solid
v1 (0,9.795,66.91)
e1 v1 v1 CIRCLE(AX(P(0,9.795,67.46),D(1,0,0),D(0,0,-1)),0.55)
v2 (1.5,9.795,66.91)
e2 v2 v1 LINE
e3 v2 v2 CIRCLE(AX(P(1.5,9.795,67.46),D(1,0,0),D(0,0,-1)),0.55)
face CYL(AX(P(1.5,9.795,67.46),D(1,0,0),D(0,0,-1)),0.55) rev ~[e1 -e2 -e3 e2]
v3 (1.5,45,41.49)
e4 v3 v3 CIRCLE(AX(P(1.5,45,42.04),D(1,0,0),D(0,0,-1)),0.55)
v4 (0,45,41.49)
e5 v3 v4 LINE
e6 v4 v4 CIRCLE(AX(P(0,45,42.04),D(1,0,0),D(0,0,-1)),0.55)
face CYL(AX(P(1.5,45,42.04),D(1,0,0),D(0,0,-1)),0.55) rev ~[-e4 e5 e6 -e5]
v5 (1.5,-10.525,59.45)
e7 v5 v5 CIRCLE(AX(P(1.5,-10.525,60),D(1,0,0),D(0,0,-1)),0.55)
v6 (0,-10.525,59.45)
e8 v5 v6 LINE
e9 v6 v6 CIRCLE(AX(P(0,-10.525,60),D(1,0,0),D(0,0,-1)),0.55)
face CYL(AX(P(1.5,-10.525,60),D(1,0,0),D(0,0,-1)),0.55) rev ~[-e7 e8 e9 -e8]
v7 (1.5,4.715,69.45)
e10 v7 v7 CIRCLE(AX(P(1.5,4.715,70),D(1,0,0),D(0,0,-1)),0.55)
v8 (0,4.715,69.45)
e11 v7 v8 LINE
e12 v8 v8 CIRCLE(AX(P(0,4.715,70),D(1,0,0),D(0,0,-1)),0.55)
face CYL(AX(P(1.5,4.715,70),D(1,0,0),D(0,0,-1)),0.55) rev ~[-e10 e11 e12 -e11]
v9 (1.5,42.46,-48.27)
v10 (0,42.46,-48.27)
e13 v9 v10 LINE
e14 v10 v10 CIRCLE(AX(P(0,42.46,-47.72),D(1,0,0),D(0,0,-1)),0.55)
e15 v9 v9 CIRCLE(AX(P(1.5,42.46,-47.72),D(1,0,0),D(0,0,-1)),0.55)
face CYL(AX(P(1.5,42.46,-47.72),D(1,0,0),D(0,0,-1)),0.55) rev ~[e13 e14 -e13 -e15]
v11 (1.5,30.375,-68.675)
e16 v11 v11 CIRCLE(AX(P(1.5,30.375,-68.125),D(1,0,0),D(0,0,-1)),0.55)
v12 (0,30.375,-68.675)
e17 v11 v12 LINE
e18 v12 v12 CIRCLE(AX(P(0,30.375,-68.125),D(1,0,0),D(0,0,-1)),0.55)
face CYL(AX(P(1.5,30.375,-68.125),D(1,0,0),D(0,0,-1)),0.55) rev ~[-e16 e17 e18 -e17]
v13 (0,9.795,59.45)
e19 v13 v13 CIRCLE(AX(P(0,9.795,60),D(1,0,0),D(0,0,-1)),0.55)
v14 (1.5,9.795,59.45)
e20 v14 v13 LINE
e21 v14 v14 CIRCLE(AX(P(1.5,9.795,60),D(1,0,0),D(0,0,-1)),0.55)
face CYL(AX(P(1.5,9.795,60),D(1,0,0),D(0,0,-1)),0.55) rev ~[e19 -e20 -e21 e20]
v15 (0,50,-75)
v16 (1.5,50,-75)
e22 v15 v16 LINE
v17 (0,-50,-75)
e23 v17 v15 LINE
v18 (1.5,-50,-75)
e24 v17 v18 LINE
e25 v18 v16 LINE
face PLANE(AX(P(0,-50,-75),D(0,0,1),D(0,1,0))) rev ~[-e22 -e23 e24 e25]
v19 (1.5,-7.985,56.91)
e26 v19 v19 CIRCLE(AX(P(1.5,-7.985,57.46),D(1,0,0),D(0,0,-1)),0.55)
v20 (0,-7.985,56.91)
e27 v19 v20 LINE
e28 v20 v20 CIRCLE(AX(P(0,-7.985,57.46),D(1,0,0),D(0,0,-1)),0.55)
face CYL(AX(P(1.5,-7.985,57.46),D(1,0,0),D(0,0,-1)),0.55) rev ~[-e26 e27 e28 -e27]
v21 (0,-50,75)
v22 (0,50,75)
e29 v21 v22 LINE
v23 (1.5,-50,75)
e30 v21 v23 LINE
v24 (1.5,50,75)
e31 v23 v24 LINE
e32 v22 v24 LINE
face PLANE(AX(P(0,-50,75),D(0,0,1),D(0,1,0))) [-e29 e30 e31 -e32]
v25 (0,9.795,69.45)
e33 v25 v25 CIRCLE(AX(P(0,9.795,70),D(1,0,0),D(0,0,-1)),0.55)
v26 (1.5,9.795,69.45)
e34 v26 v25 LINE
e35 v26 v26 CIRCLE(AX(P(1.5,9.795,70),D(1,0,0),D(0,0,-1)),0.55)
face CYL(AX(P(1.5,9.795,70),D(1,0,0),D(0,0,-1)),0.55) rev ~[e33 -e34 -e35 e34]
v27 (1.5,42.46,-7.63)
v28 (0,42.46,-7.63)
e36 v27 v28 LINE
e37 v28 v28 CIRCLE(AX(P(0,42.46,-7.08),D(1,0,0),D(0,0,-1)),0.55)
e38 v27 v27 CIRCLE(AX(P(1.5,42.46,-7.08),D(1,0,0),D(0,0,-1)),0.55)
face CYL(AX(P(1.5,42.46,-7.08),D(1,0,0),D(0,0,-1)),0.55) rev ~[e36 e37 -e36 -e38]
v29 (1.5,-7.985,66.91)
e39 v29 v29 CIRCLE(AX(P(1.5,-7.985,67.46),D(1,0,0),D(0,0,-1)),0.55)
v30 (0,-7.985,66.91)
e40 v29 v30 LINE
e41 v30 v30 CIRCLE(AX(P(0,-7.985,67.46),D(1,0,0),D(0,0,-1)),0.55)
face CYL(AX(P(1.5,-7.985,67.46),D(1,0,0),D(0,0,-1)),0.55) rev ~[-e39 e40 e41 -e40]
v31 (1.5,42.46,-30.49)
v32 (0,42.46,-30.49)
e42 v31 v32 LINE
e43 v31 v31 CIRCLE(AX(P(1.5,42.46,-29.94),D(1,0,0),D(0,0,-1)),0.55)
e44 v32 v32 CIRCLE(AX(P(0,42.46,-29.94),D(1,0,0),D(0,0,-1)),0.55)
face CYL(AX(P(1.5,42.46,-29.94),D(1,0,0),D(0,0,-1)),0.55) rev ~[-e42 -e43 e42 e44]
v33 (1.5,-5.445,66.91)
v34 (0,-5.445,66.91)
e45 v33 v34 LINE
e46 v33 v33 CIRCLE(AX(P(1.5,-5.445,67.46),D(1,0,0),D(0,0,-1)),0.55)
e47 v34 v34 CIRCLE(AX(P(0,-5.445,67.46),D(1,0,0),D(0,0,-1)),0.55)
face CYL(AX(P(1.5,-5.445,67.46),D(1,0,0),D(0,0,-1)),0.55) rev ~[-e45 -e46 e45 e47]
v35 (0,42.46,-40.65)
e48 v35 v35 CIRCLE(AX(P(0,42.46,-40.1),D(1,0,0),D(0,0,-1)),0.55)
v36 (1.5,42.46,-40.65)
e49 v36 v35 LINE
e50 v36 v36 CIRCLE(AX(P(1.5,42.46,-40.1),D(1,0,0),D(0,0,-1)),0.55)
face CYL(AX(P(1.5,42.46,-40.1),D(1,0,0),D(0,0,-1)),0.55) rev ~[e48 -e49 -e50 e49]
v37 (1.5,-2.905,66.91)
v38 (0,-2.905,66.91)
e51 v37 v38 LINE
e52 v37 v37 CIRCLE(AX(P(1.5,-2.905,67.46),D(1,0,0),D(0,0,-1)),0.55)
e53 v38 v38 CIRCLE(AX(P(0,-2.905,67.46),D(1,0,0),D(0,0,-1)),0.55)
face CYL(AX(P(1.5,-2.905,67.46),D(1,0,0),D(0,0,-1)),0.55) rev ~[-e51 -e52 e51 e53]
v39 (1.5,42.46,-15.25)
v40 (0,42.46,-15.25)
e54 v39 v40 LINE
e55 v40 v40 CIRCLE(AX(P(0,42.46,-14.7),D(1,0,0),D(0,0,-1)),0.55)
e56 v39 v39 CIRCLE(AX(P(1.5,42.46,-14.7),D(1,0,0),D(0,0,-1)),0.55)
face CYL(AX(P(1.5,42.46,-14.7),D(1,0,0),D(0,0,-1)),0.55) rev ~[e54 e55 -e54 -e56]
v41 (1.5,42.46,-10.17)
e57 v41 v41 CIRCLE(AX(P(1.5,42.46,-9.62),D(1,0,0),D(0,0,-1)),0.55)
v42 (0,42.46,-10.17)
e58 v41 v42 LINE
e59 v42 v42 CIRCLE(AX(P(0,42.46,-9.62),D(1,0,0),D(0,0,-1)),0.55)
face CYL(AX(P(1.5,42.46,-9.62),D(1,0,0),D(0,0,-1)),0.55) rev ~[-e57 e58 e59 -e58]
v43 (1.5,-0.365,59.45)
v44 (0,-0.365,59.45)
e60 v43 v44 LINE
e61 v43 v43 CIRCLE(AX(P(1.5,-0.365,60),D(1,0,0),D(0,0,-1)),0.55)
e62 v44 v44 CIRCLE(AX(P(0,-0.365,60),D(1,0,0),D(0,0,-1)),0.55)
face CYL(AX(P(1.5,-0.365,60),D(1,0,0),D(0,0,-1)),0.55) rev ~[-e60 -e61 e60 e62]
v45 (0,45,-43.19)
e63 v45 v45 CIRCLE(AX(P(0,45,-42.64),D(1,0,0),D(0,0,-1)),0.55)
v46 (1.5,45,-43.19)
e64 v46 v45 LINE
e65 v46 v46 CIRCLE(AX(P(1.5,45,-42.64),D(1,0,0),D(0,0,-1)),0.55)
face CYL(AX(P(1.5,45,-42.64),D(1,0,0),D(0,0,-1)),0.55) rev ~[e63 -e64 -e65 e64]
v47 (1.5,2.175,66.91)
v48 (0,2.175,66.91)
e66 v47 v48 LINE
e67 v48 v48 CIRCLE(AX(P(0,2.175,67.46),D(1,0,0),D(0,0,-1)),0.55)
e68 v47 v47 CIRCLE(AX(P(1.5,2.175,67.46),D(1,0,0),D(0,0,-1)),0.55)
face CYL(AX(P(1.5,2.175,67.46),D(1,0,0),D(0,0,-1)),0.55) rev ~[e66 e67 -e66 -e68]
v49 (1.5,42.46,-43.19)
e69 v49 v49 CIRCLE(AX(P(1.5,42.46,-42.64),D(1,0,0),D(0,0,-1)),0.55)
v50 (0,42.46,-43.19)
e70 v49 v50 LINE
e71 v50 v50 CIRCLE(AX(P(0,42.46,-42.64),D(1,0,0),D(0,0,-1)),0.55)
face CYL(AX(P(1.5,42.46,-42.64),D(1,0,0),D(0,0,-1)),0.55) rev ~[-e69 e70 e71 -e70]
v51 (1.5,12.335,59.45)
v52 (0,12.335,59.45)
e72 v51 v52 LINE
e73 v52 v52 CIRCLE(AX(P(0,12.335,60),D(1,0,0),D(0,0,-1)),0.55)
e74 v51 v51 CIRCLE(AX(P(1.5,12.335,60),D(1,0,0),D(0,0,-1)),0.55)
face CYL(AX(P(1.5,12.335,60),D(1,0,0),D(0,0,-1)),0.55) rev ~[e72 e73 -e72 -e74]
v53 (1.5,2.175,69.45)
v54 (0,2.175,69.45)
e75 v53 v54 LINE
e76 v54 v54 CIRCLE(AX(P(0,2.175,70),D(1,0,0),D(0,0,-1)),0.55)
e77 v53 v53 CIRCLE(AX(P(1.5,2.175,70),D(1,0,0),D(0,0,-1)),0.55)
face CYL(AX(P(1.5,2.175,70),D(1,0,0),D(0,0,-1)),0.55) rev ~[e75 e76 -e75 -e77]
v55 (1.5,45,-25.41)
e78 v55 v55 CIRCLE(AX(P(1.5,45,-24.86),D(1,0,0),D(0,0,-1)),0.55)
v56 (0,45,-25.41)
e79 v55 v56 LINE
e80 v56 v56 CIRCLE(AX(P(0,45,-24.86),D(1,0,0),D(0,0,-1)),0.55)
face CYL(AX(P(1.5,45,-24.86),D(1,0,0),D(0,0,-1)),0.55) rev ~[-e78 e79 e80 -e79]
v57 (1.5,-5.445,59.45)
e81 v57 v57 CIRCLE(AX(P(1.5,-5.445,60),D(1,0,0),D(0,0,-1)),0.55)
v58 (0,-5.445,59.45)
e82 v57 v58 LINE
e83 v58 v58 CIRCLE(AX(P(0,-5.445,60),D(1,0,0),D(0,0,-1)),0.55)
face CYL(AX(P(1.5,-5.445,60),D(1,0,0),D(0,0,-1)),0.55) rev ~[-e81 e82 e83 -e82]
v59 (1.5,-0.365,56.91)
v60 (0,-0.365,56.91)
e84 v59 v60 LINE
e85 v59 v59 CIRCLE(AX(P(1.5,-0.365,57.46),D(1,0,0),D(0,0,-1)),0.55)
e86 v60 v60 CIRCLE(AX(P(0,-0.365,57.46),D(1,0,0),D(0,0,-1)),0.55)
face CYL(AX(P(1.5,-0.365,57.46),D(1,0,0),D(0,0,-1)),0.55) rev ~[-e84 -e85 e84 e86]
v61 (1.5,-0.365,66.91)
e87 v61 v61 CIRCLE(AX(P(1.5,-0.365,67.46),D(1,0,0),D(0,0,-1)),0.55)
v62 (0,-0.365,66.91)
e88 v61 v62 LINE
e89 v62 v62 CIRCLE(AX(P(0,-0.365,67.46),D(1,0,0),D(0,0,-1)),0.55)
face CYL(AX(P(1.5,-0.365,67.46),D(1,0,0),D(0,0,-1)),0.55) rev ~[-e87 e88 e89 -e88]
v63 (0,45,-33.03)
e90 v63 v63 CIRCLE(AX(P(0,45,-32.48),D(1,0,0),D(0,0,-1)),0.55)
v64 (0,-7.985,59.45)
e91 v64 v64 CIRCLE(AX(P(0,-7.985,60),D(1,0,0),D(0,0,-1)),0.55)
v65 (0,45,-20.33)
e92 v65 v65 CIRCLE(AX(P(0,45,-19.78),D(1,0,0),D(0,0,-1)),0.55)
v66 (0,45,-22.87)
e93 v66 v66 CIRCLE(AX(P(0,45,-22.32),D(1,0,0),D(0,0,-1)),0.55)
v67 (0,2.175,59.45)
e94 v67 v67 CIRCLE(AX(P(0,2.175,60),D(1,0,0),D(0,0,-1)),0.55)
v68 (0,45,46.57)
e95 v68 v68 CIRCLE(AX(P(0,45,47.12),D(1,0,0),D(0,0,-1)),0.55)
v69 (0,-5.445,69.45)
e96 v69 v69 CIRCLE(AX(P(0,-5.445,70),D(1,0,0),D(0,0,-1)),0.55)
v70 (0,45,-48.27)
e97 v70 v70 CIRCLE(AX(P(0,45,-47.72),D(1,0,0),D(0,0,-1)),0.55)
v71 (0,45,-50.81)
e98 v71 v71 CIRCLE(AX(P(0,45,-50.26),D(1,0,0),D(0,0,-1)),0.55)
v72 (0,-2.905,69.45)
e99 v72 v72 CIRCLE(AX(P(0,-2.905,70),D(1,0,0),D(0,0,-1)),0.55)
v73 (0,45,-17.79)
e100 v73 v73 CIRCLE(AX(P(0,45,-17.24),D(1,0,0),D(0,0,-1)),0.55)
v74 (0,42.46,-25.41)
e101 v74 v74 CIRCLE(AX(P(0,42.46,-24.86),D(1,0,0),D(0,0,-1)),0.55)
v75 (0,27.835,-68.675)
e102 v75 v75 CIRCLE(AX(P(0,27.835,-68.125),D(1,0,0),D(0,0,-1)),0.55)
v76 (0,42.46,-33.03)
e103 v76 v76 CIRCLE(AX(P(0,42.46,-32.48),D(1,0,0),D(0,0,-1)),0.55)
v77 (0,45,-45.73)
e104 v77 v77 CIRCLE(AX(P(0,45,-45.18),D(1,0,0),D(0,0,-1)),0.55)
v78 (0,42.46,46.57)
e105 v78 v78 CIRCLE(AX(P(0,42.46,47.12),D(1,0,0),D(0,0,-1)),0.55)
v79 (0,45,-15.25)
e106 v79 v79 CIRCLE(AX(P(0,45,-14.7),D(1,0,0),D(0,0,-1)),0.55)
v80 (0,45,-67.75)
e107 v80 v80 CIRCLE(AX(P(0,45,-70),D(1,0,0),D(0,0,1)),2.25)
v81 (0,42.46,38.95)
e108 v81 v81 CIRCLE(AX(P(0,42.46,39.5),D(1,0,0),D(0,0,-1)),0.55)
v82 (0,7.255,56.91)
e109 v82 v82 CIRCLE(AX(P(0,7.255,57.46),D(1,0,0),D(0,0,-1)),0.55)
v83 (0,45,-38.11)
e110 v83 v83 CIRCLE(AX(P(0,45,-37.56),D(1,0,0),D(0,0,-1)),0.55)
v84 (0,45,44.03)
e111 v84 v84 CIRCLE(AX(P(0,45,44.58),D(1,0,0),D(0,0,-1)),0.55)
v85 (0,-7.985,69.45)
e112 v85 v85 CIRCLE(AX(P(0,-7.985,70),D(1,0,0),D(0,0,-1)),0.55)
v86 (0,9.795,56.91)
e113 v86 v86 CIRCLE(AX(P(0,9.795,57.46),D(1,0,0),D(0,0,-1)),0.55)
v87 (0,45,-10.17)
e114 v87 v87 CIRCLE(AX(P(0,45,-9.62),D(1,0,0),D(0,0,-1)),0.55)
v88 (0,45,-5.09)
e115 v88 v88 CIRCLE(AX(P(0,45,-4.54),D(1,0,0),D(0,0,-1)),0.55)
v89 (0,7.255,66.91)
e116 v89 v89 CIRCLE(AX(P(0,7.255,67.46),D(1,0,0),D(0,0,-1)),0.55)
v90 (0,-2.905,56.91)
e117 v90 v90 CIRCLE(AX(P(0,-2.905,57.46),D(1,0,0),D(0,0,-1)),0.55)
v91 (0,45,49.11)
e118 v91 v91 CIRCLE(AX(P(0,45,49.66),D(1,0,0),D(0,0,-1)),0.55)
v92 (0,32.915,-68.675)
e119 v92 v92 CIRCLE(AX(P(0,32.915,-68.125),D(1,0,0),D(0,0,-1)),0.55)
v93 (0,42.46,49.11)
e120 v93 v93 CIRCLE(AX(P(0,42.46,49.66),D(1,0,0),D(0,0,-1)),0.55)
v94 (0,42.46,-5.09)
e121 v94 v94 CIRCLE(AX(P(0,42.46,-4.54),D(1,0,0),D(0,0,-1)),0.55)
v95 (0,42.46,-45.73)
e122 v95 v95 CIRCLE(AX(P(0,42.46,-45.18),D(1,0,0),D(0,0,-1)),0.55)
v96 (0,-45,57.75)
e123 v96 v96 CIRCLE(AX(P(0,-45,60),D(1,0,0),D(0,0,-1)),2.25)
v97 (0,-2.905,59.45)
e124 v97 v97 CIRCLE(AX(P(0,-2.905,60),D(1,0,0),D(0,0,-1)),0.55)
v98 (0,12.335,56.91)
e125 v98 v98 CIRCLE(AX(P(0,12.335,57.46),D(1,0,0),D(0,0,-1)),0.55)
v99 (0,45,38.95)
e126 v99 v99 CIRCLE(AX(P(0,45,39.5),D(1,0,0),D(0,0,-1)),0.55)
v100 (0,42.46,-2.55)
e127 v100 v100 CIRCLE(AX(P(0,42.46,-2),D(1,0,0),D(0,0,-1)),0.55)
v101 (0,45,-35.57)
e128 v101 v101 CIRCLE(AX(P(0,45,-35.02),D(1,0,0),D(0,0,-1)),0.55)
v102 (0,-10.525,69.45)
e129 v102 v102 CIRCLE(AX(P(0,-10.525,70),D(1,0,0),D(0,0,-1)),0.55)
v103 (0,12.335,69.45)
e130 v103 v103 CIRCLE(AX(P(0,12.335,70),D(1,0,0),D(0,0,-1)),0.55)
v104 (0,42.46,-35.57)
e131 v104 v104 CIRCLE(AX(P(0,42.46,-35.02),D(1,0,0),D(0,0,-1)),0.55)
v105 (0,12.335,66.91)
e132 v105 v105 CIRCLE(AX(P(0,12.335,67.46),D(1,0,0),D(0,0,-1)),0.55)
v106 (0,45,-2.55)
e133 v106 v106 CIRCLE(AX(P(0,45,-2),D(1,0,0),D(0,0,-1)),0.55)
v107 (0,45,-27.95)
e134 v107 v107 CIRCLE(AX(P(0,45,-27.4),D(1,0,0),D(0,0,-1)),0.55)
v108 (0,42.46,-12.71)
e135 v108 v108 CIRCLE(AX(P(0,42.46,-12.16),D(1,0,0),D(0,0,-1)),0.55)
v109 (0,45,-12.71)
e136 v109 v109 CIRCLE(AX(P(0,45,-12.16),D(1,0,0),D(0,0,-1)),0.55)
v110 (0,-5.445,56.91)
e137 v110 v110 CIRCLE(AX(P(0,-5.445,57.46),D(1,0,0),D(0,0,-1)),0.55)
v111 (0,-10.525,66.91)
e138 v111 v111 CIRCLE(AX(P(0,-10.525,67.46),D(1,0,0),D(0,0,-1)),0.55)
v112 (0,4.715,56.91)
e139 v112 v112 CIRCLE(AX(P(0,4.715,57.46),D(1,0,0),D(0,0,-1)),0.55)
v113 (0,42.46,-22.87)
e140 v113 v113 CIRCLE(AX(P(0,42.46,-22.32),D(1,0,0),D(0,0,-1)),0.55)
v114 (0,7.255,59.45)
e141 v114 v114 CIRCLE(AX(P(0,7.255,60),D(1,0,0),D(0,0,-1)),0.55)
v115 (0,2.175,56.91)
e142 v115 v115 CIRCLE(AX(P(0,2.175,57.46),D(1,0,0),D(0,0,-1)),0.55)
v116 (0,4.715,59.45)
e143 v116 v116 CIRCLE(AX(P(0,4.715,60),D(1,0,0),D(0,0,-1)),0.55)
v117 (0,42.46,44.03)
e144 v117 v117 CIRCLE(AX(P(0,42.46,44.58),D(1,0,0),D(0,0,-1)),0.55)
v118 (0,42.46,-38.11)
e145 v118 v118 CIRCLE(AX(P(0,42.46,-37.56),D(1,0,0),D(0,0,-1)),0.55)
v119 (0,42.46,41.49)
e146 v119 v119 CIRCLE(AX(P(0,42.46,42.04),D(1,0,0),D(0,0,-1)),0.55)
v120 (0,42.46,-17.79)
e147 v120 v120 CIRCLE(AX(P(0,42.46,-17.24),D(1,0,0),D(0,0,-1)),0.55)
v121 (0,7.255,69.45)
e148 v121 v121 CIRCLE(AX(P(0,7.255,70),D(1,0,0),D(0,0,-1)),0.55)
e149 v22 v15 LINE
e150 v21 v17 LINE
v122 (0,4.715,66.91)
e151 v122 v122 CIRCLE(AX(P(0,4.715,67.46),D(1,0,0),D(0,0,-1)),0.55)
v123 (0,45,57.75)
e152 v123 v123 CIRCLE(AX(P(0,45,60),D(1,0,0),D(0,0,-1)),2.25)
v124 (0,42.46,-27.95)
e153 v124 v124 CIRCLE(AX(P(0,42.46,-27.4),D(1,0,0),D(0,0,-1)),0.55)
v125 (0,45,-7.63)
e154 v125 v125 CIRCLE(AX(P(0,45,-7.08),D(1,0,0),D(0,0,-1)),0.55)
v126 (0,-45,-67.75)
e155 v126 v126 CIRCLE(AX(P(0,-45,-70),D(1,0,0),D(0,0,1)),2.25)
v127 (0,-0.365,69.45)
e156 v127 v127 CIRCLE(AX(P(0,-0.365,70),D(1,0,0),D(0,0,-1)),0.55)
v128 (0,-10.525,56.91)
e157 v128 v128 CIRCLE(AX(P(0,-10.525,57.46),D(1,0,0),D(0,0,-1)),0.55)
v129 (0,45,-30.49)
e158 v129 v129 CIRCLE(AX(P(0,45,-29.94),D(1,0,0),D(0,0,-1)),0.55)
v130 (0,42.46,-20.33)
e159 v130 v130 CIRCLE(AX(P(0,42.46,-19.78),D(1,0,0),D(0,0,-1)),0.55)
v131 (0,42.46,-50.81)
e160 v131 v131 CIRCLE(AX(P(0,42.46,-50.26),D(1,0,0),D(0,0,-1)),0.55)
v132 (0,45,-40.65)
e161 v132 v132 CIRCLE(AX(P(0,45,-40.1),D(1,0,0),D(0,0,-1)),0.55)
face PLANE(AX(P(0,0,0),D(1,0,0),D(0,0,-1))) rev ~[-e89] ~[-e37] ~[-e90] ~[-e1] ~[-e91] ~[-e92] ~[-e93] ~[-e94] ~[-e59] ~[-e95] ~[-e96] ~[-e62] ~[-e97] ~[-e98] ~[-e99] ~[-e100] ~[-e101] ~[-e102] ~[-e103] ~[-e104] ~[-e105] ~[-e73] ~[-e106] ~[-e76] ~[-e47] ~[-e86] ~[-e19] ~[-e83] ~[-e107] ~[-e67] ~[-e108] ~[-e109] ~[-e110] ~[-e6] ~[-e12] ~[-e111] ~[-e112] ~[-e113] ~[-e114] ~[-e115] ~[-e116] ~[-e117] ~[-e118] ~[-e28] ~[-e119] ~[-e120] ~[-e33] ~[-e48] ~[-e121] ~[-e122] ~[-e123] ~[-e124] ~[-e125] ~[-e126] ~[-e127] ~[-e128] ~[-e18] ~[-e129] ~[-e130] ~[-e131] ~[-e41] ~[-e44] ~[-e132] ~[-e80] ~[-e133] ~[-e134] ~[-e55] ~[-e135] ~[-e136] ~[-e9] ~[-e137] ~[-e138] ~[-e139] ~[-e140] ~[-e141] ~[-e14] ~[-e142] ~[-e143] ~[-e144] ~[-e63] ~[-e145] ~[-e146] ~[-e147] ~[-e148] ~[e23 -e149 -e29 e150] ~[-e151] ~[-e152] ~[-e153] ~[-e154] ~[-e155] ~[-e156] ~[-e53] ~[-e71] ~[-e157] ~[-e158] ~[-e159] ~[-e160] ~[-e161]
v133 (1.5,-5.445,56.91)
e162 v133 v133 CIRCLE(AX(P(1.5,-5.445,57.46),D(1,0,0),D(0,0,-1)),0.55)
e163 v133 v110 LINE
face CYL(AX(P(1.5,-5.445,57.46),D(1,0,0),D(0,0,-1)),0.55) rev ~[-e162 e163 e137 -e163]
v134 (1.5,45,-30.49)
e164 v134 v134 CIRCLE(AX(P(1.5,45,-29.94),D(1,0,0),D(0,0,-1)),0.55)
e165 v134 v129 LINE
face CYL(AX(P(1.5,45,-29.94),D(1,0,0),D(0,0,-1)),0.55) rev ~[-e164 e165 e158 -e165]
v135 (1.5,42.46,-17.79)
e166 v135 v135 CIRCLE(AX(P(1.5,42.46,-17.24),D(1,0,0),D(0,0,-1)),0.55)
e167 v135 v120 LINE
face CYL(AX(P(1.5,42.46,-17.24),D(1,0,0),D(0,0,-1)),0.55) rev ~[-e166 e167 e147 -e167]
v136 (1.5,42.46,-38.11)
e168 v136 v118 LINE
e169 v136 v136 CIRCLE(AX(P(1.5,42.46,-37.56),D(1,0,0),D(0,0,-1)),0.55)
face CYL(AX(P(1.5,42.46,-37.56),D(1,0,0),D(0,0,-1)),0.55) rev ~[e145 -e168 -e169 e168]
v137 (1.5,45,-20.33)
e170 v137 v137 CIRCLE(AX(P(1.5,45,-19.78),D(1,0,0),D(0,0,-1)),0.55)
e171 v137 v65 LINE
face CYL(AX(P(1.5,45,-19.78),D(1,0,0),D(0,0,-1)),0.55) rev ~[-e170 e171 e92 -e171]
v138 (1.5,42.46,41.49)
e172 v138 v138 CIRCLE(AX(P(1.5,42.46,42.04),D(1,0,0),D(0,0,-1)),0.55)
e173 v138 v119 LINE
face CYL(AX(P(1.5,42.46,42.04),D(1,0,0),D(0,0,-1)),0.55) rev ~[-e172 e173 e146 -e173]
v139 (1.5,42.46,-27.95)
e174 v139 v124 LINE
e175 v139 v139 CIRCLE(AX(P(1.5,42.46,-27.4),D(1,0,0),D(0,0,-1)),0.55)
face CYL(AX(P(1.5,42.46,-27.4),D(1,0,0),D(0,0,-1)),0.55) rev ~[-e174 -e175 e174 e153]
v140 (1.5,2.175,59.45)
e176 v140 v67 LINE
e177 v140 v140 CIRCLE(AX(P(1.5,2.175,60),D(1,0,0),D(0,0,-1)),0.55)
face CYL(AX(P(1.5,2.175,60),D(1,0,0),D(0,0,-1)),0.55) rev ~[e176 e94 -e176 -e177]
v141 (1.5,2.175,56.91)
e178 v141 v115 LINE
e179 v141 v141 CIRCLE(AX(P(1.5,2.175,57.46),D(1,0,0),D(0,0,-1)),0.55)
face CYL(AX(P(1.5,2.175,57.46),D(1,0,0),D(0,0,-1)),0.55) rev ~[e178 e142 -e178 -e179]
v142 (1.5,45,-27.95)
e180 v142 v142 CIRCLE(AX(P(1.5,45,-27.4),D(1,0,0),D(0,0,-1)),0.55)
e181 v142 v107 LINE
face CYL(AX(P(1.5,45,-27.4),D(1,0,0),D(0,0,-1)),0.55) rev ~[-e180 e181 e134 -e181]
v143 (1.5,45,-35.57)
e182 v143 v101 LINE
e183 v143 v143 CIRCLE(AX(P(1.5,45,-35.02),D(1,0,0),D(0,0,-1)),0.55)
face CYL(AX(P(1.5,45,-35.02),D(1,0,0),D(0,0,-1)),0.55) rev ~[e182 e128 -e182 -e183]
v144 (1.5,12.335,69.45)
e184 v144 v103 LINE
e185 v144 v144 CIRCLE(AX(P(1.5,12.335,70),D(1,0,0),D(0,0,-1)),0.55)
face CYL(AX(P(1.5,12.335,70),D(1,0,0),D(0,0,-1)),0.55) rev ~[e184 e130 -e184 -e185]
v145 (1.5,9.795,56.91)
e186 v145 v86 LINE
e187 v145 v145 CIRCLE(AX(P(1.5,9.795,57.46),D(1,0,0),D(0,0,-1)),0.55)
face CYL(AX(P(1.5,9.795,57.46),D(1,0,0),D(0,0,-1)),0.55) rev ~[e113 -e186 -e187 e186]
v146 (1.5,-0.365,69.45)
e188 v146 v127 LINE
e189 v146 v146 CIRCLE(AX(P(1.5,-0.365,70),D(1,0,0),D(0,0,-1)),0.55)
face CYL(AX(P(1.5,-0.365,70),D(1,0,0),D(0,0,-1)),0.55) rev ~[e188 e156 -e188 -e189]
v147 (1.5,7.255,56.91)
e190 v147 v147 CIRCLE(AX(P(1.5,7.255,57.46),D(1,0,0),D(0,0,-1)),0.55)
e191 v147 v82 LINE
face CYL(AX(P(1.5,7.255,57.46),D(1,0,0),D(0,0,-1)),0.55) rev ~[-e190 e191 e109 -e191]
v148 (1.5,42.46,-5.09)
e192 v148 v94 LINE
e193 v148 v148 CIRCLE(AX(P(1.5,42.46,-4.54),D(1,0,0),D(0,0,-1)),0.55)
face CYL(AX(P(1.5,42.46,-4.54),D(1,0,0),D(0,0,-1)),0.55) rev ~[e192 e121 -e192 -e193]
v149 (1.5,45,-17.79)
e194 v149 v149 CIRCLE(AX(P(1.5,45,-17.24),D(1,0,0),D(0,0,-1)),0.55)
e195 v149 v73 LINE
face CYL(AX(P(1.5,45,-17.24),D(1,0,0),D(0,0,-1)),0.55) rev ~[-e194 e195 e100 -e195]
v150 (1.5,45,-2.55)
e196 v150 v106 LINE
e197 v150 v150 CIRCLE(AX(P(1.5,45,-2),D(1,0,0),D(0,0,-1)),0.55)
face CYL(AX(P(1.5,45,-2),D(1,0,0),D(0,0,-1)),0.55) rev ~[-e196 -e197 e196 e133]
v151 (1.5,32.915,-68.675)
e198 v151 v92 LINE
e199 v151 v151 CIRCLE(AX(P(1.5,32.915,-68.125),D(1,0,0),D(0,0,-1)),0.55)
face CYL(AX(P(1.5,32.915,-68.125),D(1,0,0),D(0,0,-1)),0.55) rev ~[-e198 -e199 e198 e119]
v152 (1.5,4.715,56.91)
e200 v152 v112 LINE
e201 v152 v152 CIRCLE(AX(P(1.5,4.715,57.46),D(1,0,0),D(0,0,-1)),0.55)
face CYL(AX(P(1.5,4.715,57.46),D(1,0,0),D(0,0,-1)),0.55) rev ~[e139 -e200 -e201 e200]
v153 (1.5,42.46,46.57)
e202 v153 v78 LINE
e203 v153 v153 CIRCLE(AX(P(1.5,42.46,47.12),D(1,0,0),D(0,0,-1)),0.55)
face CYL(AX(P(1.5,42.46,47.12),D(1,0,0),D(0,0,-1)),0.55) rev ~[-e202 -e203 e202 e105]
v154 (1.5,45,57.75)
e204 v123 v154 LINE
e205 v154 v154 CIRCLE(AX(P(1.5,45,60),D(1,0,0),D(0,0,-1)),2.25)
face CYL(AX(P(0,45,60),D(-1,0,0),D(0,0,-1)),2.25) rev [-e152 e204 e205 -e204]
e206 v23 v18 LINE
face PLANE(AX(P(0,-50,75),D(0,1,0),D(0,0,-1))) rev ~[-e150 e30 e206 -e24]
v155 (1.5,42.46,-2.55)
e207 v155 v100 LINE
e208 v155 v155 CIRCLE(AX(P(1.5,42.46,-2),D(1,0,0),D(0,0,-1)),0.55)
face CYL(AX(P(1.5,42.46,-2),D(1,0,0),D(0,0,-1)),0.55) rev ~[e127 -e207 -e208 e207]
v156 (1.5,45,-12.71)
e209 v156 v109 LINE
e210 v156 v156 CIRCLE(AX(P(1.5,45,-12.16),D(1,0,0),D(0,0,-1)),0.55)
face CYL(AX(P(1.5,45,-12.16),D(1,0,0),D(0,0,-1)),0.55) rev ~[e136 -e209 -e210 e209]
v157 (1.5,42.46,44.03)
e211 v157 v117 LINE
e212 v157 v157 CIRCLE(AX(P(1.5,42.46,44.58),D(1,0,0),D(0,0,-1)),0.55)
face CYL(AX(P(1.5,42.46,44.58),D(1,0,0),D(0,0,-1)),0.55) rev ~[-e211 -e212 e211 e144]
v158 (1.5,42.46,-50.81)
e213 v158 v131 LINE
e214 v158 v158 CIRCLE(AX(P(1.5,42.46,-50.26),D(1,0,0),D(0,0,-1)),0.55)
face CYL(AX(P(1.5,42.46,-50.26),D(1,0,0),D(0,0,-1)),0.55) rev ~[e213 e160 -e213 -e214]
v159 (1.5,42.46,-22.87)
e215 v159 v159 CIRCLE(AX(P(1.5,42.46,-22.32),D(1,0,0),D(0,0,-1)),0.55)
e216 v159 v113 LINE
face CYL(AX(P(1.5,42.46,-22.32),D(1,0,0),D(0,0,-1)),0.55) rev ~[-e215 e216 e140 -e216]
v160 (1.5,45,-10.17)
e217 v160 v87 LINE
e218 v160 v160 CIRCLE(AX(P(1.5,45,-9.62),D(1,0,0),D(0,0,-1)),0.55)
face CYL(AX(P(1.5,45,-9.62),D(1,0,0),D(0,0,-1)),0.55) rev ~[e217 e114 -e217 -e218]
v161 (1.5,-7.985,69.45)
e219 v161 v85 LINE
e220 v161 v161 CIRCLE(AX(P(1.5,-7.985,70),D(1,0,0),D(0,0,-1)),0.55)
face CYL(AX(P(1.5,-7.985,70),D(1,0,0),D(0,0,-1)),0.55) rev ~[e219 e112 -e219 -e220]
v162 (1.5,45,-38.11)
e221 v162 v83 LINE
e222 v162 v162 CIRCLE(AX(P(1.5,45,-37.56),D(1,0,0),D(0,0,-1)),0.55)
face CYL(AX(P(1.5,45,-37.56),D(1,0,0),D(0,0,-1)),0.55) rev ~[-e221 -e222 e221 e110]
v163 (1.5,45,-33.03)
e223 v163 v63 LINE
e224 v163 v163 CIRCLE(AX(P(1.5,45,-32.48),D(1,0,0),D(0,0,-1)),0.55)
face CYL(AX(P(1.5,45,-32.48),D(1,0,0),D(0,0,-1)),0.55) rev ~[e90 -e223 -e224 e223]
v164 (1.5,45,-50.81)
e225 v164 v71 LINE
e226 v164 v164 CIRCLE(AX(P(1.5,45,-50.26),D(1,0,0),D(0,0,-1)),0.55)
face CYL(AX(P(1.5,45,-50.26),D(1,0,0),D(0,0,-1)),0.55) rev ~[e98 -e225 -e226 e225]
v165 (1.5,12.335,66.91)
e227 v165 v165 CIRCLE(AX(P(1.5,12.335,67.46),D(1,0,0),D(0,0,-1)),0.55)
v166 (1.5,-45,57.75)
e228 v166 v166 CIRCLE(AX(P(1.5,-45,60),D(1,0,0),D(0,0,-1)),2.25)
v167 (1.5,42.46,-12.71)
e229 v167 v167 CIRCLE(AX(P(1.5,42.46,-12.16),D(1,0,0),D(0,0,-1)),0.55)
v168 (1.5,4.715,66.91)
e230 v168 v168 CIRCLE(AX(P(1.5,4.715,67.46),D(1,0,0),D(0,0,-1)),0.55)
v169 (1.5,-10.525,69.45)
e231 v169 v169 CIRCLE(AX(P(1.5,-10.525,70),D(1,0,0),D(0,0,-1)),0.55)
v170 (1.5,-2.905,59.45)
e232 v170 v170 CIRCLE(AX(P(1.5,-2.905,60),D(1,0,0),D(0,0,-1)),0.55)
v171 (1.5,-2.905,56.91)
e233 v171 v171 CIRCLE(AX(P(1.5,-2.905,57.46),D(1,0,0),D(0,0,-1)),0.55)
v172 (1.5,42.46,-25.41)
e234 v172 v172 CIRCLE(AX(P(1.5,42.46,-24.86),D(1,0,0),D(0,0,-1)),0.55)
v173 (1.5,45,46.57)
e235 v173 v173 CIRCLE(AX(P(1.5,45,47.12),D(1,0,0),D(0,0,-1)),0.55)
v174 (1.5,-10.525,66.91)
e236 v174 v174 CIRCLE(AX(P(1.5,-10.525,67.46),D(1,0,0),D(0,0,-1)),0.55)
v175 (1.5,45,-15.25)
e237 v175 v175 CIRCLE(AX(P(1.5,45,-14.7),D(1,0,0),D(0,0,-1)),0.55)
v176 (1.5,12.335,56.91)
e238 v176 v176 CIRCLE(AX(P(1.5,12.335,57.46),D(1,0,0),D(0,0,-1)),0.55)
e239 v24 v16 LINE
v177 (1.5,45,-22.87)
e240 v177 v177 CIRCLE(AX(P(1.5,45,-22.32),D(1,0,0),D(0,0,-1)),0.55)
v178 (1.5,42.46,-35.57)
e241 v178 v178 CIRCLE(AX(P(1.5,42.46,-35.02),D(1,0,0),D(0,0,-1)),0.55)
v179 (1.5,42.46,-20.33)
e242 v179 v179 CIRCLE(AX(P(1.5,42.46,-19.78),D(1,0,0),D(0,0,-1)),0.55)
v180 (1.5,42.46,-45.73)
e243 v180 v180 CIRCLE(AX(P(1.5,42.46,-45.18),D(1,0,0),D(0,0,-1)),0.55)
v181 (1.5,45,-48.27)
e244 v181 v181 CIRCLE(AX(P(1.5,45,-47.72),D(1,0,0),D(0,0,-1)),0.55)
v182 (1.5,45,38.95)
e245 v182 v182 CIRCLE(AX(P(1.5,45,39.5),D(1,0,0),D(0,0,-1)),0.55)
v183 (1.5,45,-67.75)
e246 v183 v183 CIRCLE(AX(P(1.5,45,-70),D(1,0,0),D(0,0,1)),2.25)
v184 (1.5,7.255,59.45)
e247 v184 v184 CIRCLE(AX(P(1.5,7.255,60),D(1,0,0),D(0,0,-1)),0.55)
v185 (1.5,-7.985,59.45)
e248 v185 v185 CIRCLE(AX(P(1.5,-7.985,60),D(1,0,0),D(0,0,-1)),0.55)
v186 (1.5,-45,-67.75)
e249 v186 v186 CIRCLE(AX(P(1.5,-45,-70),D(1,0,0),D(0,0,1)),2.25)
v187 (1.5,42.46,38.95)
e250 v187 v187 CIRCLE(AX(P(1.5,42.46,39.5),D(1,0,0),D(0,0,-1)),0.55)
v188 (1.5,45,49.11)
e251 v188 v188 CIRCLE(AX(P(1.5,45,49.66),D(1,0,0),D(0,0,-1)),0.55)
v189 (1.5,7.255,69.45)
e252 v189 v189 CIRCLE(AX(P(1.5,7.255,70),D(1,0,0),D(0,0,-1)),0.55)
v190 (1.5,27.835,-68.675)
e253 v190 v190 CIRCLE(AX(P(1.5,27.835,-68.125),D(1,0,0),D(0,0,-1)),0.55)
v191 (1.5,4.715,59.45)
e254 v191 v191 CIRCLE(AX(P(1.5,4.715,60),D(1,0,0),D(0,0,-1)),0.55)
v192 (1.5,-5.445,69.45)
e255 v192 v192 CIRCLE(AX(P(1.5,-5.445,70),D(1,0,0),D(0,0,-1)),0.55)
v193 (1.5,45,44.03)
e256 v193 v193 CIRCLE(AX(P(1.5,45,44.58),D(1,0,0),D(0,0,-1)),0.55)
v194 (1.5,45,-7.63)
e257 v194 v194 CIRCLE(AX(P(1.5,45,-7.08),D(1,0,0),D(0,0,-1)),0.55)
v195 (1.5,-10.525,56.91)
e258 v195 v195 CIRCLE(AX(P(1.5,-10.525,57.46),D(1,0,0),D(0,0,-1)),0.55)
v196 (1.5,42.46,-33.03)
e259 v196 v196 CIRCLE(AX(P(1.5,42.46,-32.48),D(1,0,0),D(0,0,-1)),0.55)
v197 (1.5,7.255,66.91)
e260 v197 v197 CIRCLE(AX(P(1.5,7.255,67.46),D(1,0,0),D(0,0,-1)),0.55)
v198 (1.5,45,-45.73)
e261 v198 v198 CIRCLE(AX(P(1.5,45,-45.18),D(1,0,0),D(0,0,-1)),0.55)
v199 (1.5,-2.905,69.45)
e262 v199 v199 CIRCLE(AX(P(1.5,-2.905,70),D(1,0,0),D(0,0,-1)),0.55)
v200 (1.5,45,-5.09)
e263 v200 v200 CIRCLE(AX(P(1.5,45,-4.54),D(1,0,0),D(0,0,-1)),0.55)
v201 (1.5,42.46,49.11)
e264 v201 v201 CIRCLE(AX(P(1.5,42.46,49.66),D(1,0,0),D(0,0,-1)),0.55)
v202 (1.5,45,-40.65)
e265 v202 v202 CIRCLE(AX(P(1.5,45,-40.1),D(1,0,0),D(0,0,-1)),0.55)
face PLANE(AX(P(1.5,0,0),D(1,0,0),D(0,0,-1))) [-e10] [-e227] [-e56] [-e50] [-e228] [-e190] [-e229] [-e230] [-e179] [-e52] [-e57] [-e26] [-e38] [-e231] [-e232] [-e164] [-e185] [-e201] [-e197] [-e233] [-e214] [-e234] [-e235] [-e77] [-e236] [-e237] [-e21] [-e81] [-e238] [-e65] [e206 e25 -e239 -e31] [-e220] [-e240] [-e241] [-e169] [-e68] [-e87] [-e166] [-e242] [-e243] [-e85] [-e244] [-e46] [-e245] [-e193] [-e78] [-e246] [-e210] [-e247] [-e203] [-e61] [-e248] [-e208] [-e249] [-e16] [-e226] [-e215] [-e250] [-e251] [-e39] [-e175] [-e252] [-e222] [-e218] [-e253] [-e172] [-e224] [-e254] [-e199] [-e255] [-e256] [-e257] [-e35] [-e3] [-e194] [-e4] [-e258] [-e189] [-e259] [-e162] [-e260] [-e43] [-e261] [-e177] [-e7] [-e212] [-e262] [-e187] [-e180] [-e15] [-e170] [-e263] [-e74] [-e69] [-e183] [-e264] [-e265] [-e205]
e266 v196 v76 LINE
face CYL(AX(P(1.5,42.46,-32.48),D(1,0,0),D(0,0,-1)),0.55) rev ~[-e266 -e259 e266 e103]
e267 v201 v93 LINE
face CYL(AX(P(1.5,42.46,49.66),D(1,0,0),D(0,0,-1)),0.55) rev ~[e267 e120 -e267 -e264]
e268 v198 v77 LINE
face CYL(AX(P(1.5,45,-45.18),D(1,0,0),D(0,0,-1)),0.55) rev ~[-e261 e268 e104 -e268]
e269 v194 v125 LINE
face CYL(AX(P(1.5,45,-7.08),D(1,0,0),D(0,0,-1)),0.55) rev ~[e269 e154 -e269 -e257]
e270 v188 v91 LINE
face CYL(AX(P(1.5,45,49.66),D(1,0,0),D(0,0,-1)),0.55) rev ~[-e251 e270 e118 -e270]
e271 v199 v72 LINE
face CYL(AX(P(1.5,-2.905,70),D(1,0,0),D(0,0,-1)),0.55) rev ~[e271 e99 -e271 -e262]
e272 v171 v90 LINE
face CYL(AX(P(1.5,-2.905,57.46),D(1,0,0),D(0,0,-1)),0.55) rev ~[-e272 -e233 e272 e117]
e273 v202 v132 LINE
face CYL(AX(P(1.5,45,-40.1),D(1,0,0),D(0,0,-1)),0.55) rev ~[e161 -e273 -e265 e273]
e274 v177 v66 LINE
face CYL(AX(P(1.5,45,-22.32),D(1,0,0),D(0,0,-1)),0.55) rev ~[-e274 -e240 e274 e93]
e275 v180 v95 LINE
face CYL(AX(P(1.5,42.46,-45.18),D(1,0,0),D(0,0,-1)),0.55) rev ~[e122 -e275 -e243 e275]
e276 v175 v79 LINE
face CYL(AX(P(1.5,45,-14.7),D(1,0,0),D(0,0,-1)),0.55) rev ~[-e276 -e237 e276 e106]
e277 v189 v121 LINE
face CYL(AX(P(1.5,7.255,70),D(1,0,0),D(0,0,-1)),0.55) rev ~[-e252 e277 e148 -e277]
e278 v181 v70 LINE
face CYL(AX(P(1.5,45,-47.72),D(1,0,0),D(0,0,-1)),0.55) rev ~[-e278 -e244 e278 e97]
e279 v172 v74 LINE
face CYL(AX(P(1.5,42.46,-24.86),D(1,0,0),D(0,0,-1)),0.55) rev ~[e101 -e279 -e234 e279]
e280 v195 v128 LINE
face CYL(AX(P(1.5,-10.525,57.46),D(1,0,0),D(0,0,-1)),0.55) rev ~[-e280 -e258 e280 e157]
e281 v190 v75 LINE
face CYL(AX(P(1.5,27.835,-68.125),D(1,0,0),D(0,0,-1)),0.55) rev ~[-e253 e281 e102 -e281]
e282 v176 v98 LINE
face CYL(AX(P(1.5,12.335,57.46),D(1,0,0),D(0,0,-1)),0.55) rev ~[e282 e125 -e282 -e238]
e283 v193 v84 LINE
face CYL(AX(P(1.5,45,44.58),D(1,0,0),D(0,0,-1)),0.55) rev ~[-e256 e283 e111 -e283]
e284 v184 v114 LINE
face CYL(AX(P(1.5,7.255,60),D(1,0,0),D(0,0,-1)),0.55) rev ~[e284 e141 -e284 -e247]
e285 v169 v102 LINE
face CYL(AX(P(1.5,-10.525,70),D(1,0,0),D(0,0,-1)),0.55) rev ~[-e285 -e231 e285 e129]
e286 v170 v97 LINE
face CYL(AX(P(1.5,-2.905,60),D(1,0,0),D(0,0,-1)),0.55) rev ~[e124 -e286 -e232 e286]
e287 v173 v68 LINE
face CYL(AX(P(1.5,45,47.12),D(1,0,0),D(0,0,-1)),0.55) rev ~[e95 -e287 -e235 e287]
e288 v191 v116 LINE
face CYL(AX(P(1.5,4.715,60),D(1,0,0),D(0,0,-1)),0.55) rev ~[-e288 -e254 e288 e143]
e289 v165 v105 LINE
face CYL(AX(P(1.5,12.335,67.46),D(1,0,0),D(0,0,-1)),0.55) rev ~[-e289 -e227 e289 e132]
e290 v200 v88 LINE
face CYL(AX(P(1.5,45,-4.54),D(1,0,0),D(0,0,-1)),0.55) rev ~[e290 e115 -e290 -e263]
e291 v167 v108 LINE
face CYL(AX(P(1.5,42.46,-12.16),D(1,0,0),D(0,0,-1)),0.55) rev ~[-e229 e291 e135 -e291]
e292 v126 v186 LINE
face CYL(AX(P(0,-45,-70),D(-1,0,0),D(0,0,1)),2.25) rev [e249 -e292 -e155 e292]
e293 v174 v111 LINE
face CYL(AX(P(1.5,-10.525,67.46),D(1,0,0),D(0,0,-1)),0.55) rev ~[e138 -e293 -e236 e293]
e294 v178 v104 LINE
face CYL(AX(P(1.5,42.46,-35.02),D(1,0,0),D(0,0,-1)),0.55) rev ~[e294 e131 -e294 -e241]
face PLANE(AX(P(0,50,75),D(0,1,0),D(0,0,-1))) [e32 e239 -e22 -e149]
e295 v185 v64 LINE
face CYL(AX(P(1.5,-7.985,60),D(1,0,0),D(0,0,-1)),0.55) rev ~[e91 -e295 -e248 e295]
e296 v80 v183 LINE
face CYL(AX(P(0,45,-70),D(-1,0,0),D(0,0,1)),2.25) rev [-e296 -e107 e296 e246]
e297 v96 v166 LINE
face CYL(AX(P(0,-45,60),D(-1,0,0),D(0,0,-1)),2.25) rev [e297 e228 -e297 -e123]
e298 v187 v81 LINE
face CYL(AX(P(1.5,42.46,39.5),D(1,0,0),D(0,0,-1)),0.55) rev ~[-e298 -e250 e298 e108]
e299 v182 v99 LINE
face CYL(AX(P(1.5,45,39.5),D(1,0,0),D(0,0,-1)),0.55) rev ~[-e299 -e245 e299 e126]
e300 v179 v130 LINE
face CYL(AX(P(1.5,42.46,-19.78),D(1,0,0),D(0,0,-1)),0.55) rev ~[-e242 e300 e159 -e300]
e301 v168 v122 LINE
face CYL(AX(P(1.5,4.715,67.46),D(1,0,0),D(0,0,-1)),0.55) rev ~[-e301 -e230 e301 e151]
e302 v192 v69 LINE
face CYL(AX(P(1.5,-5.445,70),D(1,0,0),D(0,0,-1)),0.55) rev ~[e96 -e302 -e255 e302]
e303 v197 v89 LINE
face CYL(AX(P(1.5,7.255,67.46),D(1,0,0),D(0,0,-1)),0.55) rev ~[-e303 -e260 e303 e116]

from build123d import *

# Parameters (mm, degrees)
SKETCH_1_W          = 150
SKETCH_1_H          = 100
SKETCH_1_R          = 2.25
EXTRUDE_1_DEPTH     = 1.5
SKETCH_2_R          = 0.55
CUT_EXTRUDE_1_DEPTH = 10


with BuildPart() as part:
    # Эскиз1 → Вытянуть1 (new body)
    with BuildSketch(Plane(origin=(0, 0, 0), x_dir=(0, 0, -1), z_dir=(1, 0, 0))):
        Rectangle(SKETCH_1_W, SKETCH_1_H)
        with Locations((-60, 45)):
            Circle(SKETCH_1_R, mode=Mode.SUBTRACT)
        with Locations((-60, -45)):
            Circle(SKETCH_1_R, mode=Mode.SUBTRACT)
        with Locations(Location((70, -45, 0), (0, 0, 180))):
            Circle(SKETCH_1_R, mode=Mode.SUBTRACT)
        with Locations(Location((70, 45, 0), (0, 0, 180))):
            Circle(SKETCH_1_R, mode=Mode.SUBTRACT)
    extrude(amount=EXTRUDE_1_DEPTH)

    # Эскиз2 → Вырез-Вытянуть1 (cut)
    with BuildSketch(Plane(origin=(1.5, 0, 0), x_dir=(0, 0, -1), z_dir=(1, 0, 0))):
        with Locations((-70, 12.335)):
            Circle(SKETCH_2_R)
        with Locations((-67.46, 12.335)):
            Circle(SKETCH_2_R)
        with Locations((-70, 9.795)):
            Circle(SKETCH_2_R)
        with Locations((-67.46, 9.795)):
            Circle(SKETCH_2_R)
        with Locations((-70, 7.255)):
            Circle(SKETCH_2_R)
        with Locations((-67.46, 7.255)):
            Circle(SKETCH_2_R)
        with Locations((-70, 4.715)):
            Circle(SKETCH_2_R)
        with Locations((-67.46, 4.715)):
            Circle(SKETCH_2_R)
        with Locations((-70, 2.175)):
            Circle(SKETCH_2_R)
        with Locations((-67.46, 2.175)):
            Circle(SKETCH_2_R)
        with Locations((-70, -0.365)):
            Circle(SKETCH_2_R)
        with Locations((-67.46, -0.365)):
            Circle(SKETCH_2_R)
        with Locations((-70, -2.905)):
            Circle(SKETCH_2_R)
        with Locations((-67.46, -2.905)):
            Circle(SKETCH_2_R)
        with Locations((-70, -5.445)):
            Circle(SKETCH_2_R)
        with Locations((-67.46, -5.445)):
            Circle(SKETCH_2_R)
        with Locations((-70, -7.985)):
            Circle(SKETCH_2_R)
        with Locations((-67.46, -7.985)):
            Circle(SKETCH_2_R)
        with Locations((-70, -10.525)):
            Circle(SKETCH_2_R)
        with Locations((-67.46, -10.525)):
            Circle(SKETCH_2_R)
        with Locations((-49.66, 45)):
            Circle(SKETCH_2_R)
        with Locations((-49.66, 42.46)):
            Circle(SKETCH_2_R)
        with Locations((-47.12, 45)):
            Circle(SKETCH_2_R)
        with Locations((-47.12, 42.46)):
            Circle(SKETCH_2_R)
        with Locations((-44.58, 45)):
            Circle(SKETCH_2_R)
        with Locations((-44.58, 42.46)):
            Circle(SKETCH_2_R)
        with Locations((-42.04, 45)):
            Circle(SKETCH_2_R)
        with Locations((-42.04, 42.46)):
            Circle(SKETCH_2_R)
        with Locations((-39.5, 45)):
            Circle(SKETCH_2_R)
        with Locations((-39.5, 42.46)):
            Circle(SKETCH_2_R)
        with Locations((2, 45)):
            Circle(SKETCH_2_R)
        with Locations((2, 42.46)):
            Circle(SKETCH_2_R)
        with Locations((4.54, 45)):
            Circle(SKETCH_2_R)
        with Locations((4.54, 42.46)):
            Circle(SKETCH_2_R)
        with Locations((7.08, 45)):
            Circle(SKETCH_2_R)
        with Locations((7.08, 42.46)):
            Circle(SKETCH_2_R)
        with Locations((9.62, 45)):
            Circle(SKETCH_2_R)
        with Locations((9.62, 42.46)):
            Circle(SKETCH_2_R)
        with Locations((12.16, 45)):
            Circle(SKETCH_2_R)
        with Locations((12.16, 42.46)):
            Circle(SKETCH_2_R)
        with Locations((14.7, 45)):
            Circle(SKETCH_2_R)
        with Locations((14.7, 42.46)):
            Circle(SKETCH_2_R)
        with Locations((17.24, 45)):
            Circle(SKETCH_2_R)
        with Locations((17.24, 42.46)):
            Circle(SKETCH_2_R)
        with Locations((19.78, 45)):
            Circle(SKETCH_2_R)
        with Locations((19.78, 42.46)):
            Circle(SKETCH_2_R)
        with Locations((22.32, 45)):
            Circle(SKETCH_2_R)
        with Locations((22.32, 42.46)):
            Circle(SKETCH_2_R)
        with Locations((24.86, 45)):
            Circle(SKETCH_2_R)
        with Locations((24.86, 42.46)):
            Circle(SKETCH_2_R)
        with Locations((27.4, 45)):
            Circle(SKETCH_2_R)
        with Locations((27.4, 42.46)):
            Circle(SKETCH_2_R)
        with Locations((29.94, 45)):
            Circle(SKETCH_2_R)
        with Locations((29.94, 42.46)):
            Circle(SKETCH_2_R)
        with Locations((32.48, 45)):
            Circle(SKETCH_2_R)
        with Locations((32.48, 42.46)):
            Circle(SKETCH_2_R)
        with Locations((35.02, 45)):
            Circle(SKETCH_2_R)
        with Locations((35.02, 42.46)):
            Circle(SKETCH_2_R)
        with Locations((37.56, 45)):
            Circle(SKETCH_2_R)
        with Locations((37.56, 42.46)):
            Circle(SKETCH_2_R)
        with Locations((40.1, 45)):
            Circle(SKETCH_2_R)
        with Locations((40.1, 42.46)):
            Circle(SKETCH_2_R)
        with Locations((42.64, 45)):
            Circle(SKETCH_2_R)
        with Locations((42.64, 42.46)):
            Circle(SKETCH_2_R)
        with Locations((45.18, 45)):
            Circle(SKETCH_2_R)
        with Locations((45.18, 42.46)):
            Circle(SKETCH_2_R)
        with Locations((47.72, 45)):
            Circle(SKETCH_2_R)
        with Locations((47.72, 42.46)):
            Circle(SKETCH_2_R)
        with Locations((50.26, 45)):
            Circle(SKETCH_2_R)
        with Locations((50.26, 42.46)):
            Circle(SKETCH_2_R)
        with Locations((68.125, 32.915)):
            Circle(SKETCH_2_R)
        with Locations((68.125, 30.375)):
            Circle(SKETCH_2_R)
        with Locations((68.125, 27.835)):
            Circle(SKETCH_2_R)
        with Locations((-60, 12.335)):
            Circle(SKETCH_2_R)
        with Locations((-57.46, 12.335)):
            Circle(SKETCH_2_R)
        with Locations((-60, 9.795)):
            Circle(SKETCH_2_R)
        with Locations((-57.46, 9.795)):
            Circle(SKETCH_2_R)
        with Locations((-60, 7.255)):
            Circle(SKETCH_2_R)
        with Locations((-57.46, 7.255)):
            Circle(SKETCH_2_R)
        with Locations((-60, 4.715)):
            Circle(SKETCH_2_R)
        with Locations((-57.46, 4.715)):
            Circle(SKETCH_2_R)
        with Locations((-60, 2.175)):
            Circle(SKETCH_2_R)
        with Locations((-57.46, 2.175)):
            Circle(SKETCH_2_R)
        with Locations((-60, -0.365)):
            Circle(SKETCH_2_R)
        with Locations((-57.46, -0.365)):
            Circle(SKETCH_2_R)
        with Locations((-60, -2.905)):
            Circle(SKETCH_2_R)
        with Locations((-57.46, -2.905)):
            Circle(SKETCH_2_R)
        with Locations((-60, -5.445)):
            Circle(SKETCH_2_R)
        with Locations((-57.46, -5.445)):
            Circle(SKETCH_2_R)
        with Locations((-60, -7.985)):
            Circle(SKETCH_2_R)
        with Locations((-57.46, -7.985)):
            Circle(SKETCH_2_R)
        with Locations((-60, -10.525)):
            Circle(SKETCH_2_R)
        with Locations((-57.46, -10.525)):
            Circle(SKETCH_2_R)
    extrude(amount=-CUT_EXTRUDE_1_DEPTH, mode=Mode.SUBTRACT)


solid = part.part
